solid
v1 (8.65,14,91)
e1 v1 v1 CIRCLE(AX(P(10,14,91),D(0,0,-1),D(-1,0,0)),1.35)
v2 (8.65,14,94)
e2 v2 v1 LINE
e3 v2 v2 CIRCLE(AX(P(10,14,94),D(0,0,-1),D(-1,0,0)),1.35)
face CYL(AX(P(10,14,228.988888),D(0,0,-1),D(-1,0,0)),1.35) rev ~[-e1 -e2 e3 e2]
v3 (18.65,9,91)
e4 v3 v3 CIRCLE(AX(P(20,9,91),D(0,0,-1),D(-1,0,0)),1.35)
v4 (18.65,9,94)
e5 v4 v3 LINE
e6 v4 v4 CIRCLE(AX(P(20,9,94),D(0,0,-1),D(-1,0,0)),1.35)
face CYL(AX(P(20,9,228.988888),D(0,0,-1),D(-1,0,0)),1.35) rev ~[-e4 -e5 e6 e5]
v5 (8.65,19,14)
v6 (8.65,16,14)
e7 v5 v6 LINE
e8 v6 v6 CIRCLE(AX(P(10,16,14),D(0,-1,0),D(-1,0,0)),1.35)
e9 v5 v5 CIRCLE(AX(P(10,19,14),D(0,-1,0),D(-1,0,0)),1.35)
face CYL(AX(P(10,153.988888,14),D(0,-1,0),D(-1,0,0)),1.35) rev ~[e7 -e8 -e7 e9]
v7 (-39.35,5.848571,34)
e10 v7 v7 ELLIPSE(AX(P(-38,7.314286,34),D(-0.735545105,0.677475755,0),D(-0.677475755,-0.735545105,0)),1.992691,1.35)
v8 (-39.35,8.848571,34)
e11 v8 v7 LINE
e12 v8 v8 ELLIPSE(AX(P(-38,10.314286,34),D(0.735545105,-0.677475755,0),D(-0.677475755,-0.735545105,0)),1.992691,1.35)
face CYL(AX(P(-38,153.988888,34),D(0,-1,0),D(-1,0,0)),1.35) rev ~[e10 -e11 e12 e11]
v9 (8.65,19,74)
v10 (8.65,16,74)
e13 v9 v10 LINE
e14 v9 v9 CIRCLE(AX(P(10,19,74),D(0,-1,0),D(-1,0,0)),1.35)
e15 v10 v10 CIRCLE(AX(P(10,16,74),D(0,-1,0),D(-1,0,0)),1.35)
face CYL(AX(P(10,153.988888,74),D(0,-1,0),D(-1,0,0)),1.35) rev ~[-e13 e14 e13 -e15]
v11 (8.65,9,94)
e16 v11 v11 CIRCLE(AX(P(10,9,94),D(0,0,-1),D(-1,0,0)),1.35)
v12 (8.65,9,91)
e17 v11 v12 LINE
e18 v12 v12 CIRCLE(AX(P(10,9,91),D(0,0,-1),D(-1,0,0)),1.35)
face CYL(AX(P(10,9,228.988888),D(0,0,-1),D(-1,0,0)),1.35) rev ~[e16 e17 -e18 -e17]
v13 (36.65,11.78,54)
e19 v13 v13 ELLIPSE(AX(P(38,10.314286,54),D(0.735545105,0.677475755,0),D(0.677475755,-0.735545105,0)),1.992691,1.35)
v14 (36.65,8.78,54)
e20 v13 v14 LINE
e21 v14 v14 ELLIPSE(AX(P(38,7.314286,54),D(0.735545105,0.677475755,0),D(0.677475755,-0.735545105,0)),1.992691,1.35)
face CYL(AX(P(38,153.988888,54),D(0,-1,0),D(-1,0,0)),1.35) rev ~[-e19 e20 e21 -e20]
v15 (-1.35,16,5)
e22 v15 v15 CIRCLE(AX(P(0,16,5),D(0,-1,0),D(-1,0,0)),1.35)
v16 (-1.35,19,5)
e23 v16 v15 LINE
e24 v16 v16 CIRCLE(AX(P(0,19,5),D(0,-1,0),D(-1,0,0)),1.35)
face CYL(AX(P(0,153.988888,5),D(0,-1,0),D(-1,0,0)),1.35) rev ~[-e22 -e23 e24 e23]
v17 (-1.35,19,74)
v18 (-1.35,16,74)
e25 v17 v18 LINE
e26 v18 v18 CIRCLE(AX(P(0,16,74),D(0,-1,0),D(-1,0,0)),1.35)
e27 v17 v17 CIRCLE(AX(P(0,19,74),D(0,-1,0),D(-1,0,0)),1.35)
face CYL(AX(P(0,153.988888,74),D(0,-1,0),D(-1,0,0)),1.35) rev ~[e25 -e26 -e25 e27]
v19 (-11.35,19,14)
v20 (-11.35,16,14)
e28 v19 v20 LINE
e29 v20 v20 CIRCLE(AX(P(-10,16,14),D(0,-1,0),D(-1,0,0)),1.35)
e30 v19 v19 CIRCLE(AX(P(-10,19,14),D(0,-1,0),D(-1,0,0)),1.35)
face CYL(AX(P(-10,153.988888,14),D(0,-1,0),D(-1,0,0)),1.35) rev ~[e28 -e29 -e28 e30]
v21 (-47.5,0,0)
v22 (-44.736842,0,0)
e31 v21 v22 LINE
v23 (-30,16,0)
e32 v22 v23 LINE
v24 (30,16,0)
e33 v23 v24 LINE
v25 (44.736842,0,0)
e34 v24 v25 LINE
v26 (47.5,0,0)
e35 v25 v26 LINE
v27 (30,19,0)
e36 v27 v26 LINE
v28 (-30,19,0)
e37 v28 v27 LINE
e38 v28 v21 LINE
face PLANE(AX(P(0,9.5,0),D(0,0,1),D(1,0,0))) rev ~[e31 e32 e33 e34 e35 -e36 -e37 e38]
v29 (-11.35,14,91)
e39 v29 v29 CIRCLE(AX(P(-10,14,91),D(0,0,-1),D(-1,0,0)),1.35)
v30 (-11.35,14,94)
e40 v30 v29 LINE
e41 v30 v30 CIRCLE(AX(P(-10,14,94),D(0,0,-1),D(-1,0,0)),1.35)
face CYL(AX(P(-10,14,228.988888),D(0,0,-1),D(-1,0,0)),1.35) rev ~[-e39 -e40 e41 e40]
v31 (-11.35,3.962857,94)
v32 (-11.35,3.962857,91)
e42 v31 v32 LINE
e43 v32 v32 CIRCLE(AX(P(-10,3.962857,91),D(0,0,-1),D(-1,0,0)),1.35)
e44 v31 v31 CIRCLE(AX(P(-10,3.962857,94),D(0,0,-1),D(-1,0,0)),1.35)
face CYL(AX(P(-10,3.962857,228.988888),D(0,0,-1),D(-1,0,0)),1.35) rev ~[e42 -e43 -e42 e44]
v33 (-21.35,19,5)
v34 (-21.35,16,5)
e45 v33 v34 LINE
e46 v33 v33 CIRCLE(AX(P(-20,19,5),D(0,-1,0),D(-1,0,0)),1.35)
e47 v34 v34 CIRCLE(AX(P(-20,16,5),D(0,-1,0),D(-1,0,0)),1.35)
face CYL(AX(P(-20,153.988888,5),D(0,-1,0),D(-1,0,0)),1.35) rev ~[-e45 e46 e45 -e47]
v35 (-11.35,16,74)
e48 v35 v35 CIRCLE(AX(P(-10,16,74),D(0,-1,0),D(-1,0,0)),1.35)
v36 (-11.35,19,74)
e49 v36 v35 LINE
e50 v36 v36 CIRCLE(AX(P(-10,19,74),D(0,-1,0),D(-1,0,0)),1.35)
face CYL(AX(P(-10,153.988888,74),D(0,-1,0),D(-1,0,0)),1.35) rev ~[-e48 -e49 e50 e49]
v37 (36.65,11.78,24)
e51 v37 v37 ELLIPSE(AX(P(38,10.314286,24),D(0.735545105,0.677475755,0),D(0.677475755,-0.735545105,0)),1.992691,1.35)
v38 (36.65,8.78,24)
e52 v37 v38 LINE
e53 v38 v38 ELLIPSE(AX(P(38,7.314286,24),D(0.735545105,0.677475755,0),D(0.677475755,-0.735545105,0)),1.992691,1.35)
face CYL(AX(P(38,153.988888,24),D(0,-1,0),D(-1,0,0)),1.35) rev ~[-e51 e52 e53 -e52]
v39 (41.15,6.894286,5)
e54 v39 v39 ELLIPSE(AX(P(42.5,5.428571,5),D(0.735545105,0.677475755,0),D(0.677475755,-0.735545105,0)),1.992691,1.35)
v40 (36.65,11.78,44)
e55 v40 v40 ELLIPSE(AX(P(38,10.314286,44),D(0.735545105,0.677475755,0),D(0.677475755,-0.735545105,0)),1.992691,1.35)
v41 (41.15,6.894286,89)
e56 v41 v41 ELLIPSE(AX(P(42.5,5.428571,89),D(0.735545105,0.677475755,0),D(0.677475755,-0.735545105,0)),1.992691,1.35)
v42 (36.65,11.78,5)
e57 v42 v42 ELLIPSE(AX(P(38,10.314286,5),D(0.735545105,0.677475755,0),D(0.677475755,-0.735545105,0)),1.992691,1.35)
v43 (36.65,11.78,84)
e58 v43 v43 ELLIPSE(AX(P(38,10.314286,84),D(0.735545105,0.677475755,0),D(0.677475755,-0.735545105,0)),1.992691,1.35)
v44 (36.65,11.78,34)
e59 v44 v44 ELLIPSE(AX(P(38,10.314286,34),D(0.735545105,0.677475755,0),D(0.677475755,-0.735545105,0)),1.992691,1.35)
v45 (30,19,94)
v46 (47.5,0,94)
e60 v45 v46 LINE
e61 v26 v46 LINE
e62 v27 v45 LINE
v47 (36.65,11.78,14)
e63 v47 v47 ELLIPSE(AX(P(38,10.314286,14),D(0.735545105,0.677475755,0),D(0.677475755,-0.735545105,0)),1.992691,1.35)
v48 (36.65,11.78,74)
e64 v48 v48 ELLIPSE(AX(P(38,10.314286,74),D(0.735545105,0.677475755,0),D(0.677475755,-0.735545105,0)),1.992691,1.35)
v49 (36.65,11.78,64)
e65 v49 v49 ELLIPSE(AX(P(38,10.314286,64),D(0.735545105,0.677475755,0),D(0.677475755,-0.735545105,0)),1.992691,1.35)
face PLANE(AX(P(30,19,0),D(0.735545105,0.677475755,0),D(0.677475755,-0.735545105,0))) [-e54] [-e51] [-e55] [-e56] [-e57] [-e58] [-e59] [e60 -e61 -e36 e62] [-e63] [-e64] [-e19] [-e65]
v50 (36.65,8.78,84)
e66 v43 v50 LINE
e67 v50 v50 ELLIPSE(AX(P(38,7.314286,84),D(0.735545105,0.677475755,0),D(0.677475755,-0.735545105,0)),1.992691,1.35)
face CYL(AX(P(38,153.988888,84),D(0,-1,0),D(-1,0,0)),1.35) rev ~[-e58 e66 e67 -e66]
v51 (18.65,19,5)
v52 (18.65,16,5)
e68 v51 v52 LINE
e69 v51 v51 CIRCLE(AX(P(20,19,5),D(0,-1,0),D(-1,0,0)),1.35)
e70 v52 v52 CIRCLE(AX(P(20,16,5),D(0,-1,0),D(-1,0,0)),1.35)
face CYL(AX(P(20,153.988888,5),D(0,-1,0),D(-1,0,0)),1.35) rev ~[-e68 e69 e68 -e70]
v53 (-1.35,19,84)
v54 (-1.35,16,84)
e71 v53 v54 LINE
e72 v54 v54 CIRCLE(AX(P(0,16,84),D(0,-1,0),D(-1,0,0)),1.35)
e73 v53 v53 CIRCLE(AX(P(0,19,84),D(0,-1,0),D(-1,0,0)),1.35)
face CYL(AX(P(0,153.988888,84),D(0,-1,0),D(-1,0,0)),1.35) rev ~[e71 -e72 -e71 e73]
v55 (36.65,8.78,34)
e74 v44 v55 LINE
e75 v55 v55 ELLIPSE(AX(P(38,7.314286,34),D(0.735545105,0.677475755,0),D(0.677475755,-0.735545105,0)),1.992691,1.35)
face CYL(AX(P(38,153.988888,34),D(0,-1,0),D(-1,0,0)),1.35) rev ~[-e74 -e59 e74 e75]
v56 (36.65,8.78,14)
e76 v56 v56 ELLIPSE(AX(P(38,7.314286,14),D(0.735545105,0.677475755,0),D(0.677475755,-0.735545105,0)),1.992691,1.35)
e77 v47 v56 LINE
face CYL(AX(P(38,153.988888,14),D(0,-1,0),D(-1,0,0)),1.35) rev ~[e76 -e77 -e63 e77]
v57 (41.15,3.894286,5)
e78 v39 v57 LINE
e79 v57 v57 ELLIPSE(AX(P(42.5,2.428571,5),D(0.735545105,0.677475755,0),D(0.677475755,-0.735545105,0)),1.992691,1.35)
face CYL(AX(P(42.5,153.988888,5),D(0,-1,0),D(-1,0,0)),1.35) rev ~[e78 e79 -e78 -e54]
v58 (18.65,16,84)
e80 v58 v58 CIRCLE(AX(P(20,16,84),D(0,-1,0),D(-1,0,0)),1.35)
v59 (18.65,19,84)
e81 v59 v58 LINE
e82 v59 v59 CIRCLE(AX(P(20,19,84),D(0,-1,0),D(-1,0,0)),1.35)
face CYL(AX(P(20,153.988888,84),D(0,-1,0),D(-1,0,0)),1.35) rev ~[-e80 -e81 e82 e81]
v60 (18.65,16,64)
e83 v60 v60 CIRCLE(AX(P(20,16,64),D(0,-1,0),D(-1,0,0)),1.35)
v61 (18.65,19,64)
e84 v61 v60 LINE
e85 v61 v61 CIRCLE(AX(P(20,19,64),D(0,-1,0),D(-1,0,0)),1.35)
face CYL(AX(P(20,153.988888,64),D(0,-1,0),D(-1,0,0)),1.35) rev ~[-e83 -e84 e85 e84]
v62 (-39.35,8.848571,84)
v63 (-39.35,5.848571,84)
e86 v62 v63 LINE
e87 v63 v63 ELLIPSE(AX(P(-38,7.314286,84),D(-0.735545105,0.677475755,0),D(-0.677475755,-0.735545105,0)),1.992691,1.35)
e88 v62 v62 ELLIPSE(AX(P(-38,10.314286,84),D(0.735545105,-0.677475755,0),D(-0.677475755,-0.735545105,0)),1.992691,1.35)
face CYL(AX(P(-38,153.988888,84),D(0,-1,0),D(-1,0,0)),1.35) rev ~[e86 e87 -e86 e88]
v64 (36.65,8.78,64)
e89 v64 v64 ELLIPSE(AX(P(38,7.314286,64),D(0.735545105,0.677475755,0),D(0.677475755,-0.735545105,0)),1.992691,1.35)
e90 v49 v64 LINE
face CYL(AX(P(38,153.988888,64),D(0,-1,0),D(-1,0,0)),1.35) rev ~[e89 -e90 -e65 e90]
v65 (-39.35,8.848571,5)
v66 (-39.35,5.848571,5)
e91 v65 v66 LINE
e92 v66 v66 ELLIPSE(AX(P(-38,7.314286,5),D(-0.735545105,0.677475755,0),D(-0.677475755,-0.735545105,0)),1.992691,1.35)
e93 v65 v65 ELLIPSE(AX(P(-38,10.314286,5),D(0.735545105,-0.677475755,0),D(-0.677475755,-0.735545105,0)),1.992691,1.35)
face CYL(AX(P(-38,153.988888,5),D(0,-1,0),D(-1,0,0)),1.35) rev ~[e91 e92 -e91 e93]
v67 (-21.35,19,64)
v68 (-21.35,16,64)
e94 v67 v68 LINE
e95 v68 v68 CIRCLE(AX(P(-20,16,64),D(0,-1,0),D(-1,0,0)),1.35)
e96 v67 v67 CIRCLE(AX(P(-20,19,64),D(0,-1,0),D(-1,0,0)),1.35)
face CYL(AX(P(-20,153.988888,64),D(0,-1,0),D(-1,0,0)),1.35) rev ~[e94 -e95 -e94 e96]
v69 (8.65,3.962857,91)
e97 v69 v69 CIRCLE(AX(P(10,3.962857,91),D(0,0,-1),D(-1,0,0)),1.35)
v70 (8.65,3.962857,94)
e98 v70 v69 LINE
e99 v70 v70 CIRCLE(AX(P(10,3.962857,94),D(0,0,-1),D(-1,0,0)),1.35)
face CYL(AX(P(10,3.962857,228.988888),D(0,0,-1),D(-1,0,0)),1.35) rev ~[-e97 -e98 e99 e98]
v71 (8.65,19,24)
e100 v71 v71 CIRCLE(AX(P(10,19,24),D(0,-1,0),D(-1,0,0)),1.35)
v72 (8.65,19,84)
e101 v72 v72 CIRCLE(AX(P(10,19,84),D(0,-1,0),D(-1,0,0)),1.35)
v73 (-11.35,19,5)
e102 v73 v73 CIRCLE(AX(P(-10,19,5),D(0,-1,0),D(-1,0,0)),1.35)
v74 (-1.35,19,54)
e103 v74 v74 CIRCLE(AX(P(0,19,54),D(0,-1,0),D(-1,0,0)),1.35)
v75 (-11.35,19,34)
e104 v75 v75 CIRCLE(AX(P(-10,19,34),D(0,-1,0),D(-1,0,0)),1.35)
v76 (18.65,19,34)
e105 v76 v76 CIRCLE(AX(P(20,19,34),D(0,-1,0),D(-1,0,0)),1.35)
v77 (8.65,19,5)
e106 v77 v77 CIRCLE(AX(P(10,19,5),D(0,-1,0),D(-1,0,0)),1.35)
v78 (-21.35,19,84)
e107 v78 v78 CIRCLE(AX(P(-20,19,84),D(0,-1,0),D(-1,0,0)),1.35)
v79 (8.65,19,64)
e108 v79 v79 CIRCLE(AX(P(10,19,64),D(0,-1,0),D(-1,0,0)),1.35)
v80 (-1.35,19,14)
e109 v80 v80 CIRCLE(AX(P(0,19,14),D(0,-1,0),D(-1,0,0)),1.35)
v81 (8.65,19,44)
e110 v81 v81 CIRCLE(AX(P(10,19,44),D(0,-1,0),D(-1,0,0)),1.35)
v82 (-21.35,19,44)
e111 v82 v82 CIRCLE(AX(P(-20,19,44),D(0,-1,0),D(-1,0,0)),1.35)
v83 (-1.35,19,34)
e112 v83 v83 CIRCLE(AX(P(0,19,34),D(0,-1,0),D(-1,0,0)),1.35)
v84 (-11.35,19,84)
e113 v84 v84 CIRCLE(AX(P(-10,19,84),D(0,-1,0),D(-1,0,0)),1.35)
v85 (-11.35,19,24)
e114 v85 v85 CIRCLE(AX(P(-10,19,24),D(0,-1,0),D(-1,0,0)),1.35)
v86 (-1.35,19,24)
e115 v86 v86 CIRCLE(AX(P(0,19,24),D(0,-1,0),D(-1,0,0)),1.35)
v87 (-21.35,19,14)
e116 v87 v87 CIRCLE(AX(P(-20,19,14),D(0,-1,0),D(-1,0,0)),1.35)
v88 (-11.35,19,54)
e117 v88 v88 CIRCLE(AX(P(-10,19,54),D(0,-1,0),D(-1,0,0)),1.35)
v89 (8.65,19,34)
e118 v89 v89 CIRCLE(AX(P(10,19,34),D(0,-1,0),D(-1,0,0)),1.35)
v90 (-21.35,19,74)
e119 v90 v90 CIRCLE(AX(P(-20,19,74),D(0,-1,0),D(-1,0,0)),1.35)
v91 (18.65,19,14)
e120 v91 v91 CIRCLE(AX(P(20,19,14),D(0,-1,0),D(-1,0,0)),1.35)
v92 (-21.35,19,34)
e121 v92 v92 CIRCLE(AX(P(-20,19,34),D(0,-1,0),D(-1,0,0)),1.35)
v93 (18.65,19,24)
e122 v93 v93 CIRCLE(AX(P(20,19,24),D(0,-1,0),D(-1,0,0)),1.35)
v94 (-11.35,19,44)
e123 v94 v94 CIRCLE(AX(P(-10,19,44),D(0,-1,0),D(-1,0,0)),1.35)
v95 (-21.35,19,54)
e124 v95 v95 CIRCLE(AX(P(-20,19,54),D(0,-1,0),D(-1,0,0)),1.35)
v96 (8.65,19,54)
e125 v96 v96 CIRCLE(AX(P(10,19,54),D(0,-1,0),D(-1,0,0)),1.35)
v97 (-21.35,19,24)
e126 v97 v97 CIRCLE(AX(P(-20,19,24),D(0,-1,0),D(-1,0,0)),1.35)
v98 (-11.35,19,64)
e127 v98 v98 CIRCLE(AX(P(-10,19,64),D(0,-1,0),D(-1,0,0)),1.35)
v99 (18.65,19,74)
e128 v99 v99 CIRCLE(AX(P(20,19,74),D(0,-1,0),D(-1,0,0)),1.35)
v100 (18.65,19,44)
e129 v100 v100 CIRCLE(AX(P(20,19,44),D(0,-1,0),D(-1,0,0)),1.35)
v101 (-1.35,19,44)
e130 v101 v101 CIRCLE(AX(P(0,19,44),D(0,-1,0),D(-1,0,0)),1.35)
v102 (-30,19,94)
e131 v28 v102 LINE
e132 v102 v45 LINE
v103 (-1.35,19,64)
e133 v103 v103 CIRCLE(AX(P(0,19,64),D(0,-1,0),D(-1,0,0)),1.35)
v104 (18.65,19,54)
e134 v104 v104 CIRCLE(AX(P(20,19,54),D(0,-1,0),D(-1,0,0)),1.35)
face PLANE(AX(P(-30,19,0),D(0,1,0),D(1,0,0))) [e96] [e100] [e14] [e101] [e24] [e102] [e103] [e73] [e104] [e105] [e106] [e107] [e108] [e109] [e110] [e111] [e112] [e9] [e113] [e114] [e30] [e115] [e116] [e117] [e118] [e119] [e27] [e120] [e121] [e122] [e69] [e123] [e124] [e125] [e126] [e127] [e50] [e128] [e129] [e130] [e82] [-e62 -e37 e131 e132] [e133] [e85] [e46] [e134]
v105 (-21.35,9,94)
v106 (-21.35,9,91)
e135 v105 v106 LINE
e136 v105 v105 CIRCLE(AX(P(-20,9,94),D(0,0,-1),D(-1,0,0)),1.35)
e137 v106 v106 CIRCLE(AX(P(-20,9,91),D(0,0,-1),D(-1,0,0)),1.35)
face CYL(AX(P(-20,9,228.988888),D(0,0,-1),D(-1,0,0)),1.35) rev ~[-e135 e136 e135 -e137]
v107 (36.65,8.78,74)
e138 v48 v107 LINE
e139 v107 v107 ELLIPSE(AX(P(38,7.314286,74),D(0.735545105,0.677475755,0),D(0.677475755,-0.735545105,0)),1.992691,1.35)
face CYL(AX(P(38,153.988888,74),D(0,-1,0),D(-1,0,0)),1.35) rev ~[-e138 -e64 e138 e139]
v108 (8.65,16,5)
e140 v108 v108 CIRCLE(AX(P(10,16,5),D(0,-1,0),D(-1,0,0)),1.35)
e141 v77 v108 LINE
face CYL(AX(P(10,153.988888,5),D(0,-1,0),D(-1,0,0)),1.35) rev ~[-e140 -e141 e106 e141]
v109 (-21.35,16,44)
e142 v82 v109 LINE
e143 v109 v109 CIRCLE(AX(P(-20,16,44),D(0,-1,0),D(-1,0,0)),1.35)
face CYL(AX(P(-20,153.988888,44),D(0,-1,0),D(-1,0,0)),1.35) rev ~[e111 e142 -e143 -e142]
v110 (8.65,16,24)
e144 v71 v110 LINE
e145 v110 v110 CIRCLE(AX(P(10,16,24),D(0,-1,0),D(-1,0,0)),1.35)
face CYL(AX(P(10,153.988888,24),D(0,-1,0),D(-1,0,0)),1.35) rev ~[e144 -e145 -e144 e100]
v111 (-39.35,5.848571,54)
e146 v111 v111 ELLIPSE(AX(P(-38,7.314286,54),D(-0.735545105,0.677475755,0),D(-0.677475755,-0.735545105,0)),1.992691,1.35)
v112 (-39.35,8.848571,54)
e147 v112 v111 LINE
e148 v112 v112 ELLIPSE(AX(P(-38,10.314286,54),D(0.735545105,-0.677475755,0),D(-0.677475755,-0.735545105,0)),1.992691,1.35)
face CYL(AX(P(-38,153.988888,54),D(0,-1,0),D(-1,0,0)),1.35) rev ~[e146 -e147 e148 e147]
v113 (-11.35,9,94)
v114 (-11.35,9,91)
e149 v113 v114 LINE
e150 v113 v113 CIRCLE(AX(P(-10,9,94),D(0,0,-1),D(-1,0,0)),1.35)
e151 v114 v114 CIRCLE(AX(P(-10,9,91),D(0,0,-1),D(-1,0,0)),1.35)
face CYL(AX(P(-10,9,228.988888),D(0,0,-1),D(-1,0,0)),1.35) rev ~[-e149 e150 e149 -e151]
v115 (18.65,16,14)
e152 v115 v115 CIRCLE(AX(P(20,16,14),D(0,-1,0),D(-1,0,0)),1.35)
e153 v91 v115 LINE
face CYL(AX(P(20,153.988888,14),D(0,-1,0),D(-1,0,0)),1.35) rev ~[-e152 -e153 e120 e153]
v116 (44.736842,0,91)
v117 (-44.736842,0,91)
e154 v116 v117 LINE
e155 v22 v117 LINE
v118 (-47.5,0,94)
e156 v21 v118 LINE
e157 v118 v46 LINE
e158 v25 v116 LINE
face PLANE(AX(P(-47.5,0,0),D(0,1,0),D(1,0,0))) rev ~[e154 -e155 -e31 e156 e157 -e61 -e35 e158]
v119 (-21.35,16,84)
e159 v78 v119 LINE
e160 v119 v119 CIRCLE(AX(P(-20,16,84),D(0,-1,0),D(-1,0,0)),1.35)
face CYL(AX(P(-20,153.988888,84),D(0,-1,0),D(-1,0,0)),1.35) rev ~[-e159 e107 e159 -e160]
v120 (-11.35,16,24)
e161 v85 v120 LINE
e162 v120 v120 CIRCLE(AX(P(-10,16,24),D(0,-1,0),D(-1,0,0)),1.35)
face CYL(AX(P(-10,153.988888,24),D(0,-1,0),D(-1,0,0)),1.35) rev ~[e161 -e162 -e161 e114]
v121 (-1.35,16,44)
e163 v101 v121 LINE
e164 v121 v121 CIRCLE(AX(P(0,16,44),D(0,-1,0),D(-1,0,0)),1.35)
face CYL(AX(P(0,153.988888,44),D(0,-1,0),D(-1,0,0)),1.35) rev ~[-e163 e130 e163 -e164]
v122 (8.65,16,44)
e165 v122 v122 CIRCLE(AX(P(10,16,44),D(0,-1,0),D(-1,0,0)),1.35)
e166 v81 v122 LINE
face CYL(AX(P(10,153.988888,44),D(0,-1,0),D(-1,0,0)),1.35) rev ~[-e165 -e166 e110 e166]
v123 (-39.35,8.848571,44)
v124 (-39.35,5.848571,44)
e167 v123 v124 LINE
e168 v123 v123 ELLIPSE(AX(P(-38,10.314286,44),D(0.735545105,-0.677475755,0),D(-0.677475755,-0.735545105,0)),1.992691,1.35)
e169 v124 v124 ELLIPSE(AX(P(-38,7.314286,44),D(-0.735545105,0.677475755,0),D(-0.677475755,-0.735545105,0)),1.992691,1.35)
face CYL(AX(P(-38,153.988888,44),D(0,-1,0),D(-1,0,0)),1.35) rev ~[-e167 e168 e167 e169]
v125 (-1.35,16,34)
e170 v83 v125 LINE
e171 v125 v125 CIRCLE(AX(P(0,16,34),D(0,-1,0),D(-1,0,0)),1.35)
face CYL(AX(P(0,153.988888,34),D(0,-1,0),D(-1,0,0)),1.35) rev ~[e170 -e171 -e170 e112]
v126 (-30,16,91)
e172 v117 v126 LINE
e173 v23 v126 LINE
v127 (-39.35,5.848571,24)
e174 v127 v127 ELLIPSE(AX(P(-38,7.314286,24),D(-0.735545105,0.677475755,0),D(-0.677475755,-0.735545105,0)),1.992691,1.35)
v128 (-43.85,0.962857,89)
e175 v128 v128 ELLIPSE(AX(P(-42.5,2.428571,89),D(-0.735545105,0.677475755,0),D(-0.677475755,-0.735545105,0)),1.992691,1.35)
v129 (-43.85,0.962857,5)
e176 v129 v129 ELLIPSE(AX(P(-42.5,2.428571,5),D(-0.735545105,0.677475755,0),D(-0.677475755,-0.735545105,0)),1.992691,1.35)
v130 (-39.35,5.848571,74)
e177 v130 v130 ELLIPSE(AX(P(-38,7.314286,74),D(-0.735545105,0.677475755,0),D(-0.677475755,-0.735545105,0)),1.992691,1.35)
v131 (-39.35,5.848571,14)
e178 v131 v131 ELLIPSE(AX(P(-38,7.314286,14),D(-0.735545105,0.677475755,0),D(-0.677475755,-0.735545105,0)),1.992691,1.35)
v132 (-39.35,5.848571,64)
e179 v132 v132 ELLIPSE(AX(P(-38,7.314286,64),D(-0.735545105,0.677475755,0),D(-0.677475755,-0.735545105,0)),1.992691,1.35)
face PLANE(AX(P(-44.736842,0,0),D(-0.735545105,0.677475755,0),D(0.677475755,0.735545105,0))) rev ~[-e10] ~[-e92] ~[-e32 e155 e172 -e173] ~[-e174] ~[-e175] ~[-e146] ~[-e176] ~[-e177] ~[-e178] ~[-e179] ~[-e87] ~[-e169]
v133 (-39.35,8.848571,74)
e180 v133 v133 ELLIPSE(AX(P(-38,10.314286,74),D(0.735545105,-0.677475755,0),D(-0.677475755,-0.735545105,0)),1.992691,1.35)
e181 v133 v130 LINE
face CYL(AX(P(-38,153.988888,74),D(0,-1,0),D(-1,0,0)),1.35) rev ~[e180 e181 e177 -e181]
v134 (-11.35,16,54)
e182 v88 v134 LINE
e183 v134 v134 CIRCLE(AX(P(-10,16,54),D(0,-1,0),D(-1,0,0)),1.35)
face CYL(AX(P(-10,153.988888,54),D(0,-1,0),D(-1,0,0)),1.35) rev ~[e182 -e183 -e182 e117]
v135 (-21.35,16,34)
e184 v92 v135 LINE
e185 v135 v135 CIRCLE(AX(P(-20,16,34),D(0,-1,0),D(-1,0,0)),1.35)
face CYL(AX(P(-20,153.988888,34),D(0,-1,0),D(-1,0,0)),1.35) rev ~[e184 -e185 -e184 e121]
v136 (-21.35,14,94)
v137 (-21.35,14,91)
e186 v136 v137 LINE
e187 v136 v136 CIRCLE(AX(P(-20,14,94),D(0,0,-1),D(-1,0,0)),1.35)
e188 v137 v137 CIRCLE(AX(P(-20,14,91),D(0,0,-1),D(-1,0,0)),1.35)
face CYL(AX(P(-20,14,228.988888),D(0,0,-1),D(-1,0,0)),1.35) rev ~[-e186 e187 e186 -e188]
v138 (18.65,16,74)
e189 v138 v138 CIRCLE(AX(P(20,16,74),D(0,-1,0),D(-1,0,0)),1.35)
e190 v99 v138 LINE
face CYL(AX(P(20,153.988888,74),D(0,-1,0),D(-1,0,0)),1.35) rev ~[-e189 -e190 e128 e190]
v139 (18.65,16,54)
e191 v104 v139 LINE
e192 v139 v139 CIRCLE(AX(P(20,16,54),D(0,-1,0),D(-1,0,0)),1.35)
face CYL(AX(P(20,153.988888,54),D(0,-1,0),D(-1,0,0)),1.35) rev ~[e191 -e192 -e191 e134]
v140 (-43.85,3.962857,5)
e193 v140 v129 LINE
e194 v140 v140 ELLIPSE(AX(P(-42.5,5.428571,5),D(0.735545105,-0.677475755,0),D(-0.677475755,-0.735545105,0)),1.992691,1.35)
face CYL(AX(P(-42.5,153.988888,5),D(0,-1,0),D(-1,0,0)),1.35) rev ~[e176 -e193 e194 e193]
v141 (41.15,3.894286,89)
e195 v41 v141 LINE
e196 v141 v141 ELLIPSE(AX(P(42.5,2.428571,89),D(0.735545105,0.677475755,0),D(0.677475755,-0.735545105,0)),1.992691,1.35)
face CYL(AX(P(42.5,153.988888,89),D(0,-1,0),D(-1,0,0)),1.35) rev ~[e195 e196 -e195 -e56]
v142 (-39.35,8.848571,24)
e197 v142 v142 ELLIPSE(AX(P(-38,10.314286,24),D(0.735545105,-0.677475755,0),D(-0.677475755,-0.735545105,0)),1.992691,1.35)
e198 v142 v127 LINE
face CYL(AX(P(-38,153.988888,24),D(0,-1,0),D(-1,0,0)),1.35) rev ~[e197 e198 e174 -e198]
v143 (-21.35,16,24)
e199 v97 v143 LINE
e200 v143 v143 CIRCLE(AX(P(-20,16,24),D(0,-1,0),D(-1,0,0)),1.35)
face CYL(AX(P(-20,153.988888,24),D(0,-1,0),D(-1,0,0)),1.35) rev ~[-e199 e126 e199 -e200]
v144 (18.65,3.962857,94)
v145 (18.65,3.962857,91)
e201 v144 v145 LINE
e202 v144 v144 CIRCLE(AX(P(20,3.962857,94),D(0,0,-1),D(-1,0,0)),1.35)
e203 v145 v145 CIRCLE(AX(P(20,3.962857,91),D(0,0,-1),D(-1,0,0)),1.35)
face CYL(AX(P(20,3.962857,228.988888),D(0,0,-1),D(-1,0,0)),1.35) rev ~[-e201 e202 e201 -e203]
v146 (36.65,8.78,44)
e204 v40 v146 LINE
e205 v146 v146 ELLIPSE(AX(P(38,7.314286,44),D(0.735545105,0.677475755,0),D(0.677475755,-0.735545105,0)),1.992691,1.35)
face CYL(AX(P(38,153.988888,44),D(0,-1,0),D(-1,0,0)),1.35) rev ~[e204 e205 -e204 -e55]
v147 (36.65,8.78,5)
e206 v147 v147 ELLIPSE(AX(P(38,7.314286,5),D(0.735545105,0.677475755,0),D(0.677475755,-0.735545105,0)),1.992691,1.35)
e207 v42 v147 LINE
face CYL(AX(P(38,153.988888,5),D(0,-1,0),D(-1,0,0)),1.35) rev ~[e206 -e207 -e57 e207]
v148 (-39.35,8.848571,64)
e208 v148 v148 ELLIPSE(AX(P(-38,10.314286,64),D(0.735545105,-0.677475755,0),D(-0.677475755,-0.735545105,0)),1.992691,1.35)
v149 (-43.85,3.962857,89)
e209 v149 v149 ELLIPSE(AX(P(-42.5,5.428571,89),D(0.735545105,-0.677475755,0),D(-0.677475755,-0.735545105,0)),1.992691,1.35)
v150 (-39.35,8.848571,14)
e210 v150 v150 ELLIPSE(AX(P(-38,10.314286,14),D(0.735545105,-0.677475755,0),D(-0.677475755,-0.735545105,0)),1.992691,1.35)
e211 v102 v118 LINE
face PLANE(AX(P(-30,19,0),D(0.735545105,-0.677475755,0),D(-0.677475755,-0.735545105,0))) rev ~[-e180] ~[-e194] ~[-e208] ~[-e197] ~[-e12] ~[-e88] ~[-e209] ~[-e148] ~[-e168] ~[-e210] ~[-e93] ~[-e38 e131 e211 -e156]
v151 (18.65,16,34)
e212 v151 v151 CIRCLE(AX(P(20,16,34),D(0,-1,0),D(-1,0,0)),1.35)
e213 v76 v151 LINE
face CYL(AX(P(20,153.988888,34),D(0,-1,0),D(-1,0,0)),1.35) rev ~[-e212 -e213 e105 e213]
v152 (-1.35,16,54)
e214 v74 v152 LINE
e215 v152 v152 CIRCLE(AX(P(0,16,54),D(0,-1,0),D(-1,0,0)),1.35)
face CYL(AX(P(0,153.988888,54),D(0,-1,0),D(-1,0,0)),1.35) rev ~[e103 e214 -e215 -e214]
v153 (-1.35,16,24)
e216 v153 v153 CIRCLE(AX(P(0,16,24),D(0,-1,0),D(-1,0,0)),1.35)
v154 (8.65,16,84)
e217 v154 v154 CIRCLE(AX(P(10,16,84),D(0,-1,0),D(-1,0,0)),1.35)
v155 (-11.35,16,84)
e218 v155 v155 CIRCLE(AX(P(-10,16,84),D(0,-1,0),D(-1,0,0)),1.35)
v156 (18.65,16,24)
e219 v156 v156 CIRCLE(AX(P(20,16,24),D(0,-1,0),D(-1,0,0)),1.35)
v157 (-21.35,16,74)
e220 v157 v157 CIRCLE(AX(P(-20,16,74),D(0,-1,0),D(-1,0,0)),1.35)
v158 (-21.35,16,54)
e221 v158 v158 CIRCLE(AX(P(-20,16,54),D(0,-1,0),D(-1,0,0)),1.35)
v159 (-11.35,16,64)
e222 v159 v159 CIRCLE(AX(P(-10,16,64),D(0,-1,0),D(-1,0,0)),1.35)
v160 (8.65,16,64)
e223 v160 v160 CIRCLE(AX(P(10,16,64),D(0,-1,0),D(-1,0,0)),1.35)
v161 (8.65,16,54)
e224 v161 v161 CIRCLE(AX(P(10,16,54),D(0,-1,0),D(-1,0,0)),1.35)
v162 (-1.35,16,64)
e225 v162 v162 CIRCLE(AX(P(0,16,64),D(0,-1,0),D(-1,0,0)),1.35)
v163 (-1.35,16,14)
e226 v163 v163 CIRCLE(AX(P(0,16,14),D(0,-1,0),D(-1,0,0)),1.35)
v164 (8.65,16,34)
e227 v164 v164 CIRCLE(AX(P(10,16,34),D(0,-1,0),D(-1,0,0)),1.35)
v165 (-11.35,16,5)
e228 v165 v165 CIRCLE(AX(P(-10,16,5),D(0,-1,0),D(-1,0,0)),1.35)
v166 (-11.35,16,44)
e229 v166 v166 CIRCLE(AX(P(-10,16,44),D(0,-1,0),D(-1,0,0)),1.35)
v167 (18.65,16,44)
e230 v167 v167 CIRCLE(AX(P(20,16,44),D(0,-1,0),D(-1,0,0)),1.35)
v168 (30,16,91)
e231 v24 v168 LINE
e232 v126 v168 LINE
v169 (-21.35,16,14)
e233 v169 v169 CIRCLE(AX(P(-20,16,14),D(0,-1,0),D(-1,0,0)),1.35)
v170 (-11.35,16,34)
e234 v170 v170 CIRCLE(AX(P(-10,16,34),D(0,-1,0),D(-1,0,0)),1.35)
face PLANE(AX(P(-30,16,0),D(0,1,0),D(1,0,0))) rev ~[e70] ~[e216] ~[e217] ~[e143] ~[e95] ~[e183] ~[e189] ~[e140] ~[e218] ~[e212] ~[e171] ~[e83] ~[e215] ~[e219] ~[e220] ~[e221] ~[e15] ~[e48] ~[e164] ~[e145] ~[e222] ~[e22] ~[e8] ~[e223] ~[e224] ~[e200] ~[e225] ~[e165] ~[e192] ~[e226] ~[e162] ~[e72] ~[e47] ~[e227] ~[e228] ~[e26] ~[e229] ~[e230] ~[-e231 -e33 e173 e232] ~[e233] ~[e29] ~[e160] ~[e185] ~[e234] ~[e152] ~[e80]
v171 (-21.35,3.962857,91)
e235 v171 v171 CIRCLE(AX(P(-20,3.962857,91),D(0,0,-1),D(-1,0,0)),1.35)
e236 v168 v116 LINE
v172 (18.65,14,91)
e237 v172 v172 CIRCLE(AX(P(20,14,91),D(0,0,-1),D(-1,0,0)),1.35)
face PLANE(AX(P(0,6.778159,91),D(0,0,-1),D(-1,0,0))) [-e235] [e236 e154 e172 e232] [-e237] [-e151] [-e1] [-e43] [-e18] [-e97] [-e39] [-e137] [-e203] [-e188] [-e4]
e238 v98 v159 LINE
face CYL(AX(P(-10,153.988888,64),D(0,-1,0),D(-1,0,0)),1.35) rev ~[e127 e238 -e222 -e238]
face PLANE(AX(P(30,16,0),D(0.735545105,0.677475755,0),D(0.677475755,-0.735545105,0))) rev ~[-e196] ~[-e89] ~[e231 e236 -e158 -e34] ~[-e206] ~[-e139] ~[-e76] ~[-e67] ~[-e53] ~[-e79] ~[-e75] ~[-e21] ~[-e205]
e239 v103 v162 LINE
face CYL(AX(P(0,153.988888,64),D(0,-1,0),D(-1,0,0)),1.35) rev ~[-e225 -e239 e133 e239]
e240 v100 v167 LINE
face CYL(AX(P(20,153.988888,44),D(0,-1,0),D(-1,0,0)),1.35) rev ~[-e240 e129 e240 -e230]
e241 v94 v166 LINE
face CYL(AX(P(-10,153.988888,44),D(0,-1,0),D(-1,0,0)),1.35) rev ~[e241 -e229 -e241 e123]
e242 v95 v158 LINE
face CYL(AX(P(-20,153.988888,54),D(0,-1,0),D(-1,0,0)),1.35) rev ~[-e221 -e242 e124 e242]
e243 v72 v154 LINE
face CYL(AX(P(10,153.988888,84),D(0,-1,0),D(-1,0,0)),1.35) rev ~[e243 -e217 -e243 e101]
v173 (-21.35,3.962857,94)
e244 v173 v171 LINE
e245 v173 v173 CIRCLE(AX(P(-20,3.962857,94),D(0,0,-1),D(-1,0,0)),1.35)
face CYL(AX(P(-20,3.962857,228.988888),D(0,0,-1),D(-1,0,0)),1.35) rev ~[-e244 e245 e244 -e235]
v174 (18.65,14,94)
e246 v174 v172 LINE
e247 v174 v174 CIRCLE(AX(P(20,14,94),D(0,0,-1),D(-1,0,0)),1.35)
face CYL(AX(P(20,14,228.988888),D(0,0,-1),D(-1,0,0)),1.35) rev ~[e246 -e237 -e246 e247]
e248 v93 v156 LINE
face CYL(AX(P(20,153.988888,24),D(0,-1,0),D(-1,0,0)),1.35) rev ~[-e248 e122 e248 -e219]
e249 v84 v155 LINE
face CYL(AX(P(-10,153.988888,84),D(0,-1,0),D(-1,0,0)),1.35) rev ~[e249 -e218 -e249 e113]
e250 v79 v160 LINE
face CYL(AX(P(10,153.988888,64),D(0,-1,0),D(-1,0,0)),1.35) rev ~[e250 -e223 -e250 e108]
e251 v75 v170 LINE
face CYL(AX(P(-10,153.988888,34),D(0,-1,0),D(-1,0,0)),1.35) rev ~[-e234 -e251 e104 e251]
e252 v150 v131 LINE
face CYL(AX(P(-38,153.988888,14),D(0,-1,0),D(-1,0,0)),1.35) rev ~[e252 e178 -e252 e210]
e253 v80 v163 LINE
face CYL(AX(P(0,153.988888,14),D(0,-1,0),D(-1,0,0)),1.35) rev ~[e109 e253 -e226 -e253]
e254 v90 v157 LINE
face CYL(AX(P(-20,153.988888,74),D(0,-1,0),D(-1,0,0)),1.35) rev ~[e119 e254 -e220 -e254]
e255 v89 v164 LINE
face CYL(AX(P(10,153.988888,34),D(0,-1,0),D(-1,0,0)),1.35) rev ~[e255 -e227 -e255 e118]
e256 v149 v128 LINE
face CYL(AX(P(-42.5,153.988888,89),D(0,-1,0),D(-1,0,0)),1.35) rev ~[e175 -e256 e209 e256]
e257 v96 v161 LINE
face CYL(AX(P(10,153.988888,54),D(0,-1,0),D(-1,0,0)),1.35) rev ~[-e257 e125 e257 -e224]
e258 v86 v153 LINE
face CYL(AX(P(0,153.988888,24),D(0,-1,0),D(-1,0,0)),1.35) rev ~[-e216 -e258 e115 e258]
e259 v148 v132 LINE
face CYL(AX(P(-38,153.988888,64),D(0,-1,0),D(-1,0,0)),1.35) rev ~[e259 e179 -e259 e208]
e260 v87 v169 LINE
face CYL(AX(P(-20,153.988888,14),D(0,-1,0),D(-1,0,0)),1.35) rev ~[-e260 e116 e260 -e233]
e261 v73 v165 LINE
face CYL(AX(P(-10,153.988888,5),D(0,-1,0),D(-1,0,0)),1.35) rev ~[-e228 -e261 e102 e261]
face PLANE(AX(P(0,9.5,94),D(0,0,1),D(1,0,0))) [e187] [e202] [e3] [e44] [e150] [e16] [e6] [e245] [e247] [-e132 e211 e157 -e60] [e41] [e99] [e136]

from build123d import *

# Parameters (mm, degrees)
CROQUIS2_W                     = 60
CROQUIS2_H                     = 19
SALIENTE_EXTRUIR1_DEPTH        = 94
CORTAR_EXTRUIR1_DEPTH          = 91
TALADRO_DE_MARGEN_PARA_M2_51_D = 2.7
TALADRO_DE_MARGEN_PARA_M2_52_D = 2.7


with BuildPart() as part:
    # Croquis2 → Saliente-Extruir1 (new body)
    with BuildSketch(Plane.XY):
        with Locations((0, 9.5)):
            Rectangle(CROQUIS2_W, CROQUIS2_H)
        Polygon((-30, 0), (-30, 19), (-47.5, 0), align=None)
        Polygon((47.5, 0), (30, 0), (30, 19), align=None)
    extrude(amount=SALIENTE_EXTRUIR1_DEPTH)

    # Croquis3 → Cortar-Extruir1 (cut)
    with BuildSketch(Plane(origin=(0, 0, 0), x_dir=(-1, 0, 0), z_dir=(0, 0, -1))):
        Polygon((-30, 16), (-44.736842105, 0), (44.736842105, 0), (30, 16), align=None)
    extrude(amount=-CORTAR_EXTRUIR1_DEPTH, mode=Mode.SUBTRACT)

    # Taladro de margen para M2.51 (through all)
    with Locations(Plane(origin=(0, 19, 0), x_dir=(1, 0, 0), z_dir=(0, 1, 0))):
        with Locations((-42.5, -5), (42.5, -5), (42.5, -89), (-42.5, -89), (-38, -5), (-38, -14), (-38, -24), (-38, -34), (-38, -44), (-38, -54), (-38, -64), (-38, -74), (-38, -84), (-20, -5), (-20, -14), (-20, -24), (-20, -34), (-20, -44), (-20, -54), (-20, -64), (-20, -74), (-20, -84), (0, -5), (0, -14), (0, -24), (0, -34), (0, -44), (0, -54), (0, -64), (0, -74), (0, -84), (20, -5), (20, -14), (20, -24), (20, -34), (20, -44), (20, -54), (20, -64), (20, -74), (20, -84), (38, -5), (38, -14), (38, -24), (38, -34), (38, -44), (38, -54), (38, -64), (38, -74), (38, -84), (-10, -5), (-10, -14), (-10, -24), (-10, -34), (-10, -44), (-10, -54), (-10, -64), (-10, -74), (-10, -84), (10, -5), (10, -14), (10, -24), (10, -34), (10, -44), (10, -54), (10, -64), (10, -74), (10, -84)):
            Hole(TALADRO_DE_MARGEN_PARA_M2_51_D / 2)

    # Taladro de margen para M2.52 (through all)
    with Locations(Plane(origin=(-20, 14, 94), x_dir=(1, 0, 0), z_dir=(0, 0, 1))):
        with Locations((0, 0), (0, -5), (0, -10.037142857), (10, -10.037142857), (10, -5), (10, 0), (30, -10.037142857), (30, -5), (30, 0), (40, 0), (40, -5), (40, -10.037142857)):
            Hole(TALADRO_DE_MARGEN_PARA_M2_52_D / 2)


solid = part.part
